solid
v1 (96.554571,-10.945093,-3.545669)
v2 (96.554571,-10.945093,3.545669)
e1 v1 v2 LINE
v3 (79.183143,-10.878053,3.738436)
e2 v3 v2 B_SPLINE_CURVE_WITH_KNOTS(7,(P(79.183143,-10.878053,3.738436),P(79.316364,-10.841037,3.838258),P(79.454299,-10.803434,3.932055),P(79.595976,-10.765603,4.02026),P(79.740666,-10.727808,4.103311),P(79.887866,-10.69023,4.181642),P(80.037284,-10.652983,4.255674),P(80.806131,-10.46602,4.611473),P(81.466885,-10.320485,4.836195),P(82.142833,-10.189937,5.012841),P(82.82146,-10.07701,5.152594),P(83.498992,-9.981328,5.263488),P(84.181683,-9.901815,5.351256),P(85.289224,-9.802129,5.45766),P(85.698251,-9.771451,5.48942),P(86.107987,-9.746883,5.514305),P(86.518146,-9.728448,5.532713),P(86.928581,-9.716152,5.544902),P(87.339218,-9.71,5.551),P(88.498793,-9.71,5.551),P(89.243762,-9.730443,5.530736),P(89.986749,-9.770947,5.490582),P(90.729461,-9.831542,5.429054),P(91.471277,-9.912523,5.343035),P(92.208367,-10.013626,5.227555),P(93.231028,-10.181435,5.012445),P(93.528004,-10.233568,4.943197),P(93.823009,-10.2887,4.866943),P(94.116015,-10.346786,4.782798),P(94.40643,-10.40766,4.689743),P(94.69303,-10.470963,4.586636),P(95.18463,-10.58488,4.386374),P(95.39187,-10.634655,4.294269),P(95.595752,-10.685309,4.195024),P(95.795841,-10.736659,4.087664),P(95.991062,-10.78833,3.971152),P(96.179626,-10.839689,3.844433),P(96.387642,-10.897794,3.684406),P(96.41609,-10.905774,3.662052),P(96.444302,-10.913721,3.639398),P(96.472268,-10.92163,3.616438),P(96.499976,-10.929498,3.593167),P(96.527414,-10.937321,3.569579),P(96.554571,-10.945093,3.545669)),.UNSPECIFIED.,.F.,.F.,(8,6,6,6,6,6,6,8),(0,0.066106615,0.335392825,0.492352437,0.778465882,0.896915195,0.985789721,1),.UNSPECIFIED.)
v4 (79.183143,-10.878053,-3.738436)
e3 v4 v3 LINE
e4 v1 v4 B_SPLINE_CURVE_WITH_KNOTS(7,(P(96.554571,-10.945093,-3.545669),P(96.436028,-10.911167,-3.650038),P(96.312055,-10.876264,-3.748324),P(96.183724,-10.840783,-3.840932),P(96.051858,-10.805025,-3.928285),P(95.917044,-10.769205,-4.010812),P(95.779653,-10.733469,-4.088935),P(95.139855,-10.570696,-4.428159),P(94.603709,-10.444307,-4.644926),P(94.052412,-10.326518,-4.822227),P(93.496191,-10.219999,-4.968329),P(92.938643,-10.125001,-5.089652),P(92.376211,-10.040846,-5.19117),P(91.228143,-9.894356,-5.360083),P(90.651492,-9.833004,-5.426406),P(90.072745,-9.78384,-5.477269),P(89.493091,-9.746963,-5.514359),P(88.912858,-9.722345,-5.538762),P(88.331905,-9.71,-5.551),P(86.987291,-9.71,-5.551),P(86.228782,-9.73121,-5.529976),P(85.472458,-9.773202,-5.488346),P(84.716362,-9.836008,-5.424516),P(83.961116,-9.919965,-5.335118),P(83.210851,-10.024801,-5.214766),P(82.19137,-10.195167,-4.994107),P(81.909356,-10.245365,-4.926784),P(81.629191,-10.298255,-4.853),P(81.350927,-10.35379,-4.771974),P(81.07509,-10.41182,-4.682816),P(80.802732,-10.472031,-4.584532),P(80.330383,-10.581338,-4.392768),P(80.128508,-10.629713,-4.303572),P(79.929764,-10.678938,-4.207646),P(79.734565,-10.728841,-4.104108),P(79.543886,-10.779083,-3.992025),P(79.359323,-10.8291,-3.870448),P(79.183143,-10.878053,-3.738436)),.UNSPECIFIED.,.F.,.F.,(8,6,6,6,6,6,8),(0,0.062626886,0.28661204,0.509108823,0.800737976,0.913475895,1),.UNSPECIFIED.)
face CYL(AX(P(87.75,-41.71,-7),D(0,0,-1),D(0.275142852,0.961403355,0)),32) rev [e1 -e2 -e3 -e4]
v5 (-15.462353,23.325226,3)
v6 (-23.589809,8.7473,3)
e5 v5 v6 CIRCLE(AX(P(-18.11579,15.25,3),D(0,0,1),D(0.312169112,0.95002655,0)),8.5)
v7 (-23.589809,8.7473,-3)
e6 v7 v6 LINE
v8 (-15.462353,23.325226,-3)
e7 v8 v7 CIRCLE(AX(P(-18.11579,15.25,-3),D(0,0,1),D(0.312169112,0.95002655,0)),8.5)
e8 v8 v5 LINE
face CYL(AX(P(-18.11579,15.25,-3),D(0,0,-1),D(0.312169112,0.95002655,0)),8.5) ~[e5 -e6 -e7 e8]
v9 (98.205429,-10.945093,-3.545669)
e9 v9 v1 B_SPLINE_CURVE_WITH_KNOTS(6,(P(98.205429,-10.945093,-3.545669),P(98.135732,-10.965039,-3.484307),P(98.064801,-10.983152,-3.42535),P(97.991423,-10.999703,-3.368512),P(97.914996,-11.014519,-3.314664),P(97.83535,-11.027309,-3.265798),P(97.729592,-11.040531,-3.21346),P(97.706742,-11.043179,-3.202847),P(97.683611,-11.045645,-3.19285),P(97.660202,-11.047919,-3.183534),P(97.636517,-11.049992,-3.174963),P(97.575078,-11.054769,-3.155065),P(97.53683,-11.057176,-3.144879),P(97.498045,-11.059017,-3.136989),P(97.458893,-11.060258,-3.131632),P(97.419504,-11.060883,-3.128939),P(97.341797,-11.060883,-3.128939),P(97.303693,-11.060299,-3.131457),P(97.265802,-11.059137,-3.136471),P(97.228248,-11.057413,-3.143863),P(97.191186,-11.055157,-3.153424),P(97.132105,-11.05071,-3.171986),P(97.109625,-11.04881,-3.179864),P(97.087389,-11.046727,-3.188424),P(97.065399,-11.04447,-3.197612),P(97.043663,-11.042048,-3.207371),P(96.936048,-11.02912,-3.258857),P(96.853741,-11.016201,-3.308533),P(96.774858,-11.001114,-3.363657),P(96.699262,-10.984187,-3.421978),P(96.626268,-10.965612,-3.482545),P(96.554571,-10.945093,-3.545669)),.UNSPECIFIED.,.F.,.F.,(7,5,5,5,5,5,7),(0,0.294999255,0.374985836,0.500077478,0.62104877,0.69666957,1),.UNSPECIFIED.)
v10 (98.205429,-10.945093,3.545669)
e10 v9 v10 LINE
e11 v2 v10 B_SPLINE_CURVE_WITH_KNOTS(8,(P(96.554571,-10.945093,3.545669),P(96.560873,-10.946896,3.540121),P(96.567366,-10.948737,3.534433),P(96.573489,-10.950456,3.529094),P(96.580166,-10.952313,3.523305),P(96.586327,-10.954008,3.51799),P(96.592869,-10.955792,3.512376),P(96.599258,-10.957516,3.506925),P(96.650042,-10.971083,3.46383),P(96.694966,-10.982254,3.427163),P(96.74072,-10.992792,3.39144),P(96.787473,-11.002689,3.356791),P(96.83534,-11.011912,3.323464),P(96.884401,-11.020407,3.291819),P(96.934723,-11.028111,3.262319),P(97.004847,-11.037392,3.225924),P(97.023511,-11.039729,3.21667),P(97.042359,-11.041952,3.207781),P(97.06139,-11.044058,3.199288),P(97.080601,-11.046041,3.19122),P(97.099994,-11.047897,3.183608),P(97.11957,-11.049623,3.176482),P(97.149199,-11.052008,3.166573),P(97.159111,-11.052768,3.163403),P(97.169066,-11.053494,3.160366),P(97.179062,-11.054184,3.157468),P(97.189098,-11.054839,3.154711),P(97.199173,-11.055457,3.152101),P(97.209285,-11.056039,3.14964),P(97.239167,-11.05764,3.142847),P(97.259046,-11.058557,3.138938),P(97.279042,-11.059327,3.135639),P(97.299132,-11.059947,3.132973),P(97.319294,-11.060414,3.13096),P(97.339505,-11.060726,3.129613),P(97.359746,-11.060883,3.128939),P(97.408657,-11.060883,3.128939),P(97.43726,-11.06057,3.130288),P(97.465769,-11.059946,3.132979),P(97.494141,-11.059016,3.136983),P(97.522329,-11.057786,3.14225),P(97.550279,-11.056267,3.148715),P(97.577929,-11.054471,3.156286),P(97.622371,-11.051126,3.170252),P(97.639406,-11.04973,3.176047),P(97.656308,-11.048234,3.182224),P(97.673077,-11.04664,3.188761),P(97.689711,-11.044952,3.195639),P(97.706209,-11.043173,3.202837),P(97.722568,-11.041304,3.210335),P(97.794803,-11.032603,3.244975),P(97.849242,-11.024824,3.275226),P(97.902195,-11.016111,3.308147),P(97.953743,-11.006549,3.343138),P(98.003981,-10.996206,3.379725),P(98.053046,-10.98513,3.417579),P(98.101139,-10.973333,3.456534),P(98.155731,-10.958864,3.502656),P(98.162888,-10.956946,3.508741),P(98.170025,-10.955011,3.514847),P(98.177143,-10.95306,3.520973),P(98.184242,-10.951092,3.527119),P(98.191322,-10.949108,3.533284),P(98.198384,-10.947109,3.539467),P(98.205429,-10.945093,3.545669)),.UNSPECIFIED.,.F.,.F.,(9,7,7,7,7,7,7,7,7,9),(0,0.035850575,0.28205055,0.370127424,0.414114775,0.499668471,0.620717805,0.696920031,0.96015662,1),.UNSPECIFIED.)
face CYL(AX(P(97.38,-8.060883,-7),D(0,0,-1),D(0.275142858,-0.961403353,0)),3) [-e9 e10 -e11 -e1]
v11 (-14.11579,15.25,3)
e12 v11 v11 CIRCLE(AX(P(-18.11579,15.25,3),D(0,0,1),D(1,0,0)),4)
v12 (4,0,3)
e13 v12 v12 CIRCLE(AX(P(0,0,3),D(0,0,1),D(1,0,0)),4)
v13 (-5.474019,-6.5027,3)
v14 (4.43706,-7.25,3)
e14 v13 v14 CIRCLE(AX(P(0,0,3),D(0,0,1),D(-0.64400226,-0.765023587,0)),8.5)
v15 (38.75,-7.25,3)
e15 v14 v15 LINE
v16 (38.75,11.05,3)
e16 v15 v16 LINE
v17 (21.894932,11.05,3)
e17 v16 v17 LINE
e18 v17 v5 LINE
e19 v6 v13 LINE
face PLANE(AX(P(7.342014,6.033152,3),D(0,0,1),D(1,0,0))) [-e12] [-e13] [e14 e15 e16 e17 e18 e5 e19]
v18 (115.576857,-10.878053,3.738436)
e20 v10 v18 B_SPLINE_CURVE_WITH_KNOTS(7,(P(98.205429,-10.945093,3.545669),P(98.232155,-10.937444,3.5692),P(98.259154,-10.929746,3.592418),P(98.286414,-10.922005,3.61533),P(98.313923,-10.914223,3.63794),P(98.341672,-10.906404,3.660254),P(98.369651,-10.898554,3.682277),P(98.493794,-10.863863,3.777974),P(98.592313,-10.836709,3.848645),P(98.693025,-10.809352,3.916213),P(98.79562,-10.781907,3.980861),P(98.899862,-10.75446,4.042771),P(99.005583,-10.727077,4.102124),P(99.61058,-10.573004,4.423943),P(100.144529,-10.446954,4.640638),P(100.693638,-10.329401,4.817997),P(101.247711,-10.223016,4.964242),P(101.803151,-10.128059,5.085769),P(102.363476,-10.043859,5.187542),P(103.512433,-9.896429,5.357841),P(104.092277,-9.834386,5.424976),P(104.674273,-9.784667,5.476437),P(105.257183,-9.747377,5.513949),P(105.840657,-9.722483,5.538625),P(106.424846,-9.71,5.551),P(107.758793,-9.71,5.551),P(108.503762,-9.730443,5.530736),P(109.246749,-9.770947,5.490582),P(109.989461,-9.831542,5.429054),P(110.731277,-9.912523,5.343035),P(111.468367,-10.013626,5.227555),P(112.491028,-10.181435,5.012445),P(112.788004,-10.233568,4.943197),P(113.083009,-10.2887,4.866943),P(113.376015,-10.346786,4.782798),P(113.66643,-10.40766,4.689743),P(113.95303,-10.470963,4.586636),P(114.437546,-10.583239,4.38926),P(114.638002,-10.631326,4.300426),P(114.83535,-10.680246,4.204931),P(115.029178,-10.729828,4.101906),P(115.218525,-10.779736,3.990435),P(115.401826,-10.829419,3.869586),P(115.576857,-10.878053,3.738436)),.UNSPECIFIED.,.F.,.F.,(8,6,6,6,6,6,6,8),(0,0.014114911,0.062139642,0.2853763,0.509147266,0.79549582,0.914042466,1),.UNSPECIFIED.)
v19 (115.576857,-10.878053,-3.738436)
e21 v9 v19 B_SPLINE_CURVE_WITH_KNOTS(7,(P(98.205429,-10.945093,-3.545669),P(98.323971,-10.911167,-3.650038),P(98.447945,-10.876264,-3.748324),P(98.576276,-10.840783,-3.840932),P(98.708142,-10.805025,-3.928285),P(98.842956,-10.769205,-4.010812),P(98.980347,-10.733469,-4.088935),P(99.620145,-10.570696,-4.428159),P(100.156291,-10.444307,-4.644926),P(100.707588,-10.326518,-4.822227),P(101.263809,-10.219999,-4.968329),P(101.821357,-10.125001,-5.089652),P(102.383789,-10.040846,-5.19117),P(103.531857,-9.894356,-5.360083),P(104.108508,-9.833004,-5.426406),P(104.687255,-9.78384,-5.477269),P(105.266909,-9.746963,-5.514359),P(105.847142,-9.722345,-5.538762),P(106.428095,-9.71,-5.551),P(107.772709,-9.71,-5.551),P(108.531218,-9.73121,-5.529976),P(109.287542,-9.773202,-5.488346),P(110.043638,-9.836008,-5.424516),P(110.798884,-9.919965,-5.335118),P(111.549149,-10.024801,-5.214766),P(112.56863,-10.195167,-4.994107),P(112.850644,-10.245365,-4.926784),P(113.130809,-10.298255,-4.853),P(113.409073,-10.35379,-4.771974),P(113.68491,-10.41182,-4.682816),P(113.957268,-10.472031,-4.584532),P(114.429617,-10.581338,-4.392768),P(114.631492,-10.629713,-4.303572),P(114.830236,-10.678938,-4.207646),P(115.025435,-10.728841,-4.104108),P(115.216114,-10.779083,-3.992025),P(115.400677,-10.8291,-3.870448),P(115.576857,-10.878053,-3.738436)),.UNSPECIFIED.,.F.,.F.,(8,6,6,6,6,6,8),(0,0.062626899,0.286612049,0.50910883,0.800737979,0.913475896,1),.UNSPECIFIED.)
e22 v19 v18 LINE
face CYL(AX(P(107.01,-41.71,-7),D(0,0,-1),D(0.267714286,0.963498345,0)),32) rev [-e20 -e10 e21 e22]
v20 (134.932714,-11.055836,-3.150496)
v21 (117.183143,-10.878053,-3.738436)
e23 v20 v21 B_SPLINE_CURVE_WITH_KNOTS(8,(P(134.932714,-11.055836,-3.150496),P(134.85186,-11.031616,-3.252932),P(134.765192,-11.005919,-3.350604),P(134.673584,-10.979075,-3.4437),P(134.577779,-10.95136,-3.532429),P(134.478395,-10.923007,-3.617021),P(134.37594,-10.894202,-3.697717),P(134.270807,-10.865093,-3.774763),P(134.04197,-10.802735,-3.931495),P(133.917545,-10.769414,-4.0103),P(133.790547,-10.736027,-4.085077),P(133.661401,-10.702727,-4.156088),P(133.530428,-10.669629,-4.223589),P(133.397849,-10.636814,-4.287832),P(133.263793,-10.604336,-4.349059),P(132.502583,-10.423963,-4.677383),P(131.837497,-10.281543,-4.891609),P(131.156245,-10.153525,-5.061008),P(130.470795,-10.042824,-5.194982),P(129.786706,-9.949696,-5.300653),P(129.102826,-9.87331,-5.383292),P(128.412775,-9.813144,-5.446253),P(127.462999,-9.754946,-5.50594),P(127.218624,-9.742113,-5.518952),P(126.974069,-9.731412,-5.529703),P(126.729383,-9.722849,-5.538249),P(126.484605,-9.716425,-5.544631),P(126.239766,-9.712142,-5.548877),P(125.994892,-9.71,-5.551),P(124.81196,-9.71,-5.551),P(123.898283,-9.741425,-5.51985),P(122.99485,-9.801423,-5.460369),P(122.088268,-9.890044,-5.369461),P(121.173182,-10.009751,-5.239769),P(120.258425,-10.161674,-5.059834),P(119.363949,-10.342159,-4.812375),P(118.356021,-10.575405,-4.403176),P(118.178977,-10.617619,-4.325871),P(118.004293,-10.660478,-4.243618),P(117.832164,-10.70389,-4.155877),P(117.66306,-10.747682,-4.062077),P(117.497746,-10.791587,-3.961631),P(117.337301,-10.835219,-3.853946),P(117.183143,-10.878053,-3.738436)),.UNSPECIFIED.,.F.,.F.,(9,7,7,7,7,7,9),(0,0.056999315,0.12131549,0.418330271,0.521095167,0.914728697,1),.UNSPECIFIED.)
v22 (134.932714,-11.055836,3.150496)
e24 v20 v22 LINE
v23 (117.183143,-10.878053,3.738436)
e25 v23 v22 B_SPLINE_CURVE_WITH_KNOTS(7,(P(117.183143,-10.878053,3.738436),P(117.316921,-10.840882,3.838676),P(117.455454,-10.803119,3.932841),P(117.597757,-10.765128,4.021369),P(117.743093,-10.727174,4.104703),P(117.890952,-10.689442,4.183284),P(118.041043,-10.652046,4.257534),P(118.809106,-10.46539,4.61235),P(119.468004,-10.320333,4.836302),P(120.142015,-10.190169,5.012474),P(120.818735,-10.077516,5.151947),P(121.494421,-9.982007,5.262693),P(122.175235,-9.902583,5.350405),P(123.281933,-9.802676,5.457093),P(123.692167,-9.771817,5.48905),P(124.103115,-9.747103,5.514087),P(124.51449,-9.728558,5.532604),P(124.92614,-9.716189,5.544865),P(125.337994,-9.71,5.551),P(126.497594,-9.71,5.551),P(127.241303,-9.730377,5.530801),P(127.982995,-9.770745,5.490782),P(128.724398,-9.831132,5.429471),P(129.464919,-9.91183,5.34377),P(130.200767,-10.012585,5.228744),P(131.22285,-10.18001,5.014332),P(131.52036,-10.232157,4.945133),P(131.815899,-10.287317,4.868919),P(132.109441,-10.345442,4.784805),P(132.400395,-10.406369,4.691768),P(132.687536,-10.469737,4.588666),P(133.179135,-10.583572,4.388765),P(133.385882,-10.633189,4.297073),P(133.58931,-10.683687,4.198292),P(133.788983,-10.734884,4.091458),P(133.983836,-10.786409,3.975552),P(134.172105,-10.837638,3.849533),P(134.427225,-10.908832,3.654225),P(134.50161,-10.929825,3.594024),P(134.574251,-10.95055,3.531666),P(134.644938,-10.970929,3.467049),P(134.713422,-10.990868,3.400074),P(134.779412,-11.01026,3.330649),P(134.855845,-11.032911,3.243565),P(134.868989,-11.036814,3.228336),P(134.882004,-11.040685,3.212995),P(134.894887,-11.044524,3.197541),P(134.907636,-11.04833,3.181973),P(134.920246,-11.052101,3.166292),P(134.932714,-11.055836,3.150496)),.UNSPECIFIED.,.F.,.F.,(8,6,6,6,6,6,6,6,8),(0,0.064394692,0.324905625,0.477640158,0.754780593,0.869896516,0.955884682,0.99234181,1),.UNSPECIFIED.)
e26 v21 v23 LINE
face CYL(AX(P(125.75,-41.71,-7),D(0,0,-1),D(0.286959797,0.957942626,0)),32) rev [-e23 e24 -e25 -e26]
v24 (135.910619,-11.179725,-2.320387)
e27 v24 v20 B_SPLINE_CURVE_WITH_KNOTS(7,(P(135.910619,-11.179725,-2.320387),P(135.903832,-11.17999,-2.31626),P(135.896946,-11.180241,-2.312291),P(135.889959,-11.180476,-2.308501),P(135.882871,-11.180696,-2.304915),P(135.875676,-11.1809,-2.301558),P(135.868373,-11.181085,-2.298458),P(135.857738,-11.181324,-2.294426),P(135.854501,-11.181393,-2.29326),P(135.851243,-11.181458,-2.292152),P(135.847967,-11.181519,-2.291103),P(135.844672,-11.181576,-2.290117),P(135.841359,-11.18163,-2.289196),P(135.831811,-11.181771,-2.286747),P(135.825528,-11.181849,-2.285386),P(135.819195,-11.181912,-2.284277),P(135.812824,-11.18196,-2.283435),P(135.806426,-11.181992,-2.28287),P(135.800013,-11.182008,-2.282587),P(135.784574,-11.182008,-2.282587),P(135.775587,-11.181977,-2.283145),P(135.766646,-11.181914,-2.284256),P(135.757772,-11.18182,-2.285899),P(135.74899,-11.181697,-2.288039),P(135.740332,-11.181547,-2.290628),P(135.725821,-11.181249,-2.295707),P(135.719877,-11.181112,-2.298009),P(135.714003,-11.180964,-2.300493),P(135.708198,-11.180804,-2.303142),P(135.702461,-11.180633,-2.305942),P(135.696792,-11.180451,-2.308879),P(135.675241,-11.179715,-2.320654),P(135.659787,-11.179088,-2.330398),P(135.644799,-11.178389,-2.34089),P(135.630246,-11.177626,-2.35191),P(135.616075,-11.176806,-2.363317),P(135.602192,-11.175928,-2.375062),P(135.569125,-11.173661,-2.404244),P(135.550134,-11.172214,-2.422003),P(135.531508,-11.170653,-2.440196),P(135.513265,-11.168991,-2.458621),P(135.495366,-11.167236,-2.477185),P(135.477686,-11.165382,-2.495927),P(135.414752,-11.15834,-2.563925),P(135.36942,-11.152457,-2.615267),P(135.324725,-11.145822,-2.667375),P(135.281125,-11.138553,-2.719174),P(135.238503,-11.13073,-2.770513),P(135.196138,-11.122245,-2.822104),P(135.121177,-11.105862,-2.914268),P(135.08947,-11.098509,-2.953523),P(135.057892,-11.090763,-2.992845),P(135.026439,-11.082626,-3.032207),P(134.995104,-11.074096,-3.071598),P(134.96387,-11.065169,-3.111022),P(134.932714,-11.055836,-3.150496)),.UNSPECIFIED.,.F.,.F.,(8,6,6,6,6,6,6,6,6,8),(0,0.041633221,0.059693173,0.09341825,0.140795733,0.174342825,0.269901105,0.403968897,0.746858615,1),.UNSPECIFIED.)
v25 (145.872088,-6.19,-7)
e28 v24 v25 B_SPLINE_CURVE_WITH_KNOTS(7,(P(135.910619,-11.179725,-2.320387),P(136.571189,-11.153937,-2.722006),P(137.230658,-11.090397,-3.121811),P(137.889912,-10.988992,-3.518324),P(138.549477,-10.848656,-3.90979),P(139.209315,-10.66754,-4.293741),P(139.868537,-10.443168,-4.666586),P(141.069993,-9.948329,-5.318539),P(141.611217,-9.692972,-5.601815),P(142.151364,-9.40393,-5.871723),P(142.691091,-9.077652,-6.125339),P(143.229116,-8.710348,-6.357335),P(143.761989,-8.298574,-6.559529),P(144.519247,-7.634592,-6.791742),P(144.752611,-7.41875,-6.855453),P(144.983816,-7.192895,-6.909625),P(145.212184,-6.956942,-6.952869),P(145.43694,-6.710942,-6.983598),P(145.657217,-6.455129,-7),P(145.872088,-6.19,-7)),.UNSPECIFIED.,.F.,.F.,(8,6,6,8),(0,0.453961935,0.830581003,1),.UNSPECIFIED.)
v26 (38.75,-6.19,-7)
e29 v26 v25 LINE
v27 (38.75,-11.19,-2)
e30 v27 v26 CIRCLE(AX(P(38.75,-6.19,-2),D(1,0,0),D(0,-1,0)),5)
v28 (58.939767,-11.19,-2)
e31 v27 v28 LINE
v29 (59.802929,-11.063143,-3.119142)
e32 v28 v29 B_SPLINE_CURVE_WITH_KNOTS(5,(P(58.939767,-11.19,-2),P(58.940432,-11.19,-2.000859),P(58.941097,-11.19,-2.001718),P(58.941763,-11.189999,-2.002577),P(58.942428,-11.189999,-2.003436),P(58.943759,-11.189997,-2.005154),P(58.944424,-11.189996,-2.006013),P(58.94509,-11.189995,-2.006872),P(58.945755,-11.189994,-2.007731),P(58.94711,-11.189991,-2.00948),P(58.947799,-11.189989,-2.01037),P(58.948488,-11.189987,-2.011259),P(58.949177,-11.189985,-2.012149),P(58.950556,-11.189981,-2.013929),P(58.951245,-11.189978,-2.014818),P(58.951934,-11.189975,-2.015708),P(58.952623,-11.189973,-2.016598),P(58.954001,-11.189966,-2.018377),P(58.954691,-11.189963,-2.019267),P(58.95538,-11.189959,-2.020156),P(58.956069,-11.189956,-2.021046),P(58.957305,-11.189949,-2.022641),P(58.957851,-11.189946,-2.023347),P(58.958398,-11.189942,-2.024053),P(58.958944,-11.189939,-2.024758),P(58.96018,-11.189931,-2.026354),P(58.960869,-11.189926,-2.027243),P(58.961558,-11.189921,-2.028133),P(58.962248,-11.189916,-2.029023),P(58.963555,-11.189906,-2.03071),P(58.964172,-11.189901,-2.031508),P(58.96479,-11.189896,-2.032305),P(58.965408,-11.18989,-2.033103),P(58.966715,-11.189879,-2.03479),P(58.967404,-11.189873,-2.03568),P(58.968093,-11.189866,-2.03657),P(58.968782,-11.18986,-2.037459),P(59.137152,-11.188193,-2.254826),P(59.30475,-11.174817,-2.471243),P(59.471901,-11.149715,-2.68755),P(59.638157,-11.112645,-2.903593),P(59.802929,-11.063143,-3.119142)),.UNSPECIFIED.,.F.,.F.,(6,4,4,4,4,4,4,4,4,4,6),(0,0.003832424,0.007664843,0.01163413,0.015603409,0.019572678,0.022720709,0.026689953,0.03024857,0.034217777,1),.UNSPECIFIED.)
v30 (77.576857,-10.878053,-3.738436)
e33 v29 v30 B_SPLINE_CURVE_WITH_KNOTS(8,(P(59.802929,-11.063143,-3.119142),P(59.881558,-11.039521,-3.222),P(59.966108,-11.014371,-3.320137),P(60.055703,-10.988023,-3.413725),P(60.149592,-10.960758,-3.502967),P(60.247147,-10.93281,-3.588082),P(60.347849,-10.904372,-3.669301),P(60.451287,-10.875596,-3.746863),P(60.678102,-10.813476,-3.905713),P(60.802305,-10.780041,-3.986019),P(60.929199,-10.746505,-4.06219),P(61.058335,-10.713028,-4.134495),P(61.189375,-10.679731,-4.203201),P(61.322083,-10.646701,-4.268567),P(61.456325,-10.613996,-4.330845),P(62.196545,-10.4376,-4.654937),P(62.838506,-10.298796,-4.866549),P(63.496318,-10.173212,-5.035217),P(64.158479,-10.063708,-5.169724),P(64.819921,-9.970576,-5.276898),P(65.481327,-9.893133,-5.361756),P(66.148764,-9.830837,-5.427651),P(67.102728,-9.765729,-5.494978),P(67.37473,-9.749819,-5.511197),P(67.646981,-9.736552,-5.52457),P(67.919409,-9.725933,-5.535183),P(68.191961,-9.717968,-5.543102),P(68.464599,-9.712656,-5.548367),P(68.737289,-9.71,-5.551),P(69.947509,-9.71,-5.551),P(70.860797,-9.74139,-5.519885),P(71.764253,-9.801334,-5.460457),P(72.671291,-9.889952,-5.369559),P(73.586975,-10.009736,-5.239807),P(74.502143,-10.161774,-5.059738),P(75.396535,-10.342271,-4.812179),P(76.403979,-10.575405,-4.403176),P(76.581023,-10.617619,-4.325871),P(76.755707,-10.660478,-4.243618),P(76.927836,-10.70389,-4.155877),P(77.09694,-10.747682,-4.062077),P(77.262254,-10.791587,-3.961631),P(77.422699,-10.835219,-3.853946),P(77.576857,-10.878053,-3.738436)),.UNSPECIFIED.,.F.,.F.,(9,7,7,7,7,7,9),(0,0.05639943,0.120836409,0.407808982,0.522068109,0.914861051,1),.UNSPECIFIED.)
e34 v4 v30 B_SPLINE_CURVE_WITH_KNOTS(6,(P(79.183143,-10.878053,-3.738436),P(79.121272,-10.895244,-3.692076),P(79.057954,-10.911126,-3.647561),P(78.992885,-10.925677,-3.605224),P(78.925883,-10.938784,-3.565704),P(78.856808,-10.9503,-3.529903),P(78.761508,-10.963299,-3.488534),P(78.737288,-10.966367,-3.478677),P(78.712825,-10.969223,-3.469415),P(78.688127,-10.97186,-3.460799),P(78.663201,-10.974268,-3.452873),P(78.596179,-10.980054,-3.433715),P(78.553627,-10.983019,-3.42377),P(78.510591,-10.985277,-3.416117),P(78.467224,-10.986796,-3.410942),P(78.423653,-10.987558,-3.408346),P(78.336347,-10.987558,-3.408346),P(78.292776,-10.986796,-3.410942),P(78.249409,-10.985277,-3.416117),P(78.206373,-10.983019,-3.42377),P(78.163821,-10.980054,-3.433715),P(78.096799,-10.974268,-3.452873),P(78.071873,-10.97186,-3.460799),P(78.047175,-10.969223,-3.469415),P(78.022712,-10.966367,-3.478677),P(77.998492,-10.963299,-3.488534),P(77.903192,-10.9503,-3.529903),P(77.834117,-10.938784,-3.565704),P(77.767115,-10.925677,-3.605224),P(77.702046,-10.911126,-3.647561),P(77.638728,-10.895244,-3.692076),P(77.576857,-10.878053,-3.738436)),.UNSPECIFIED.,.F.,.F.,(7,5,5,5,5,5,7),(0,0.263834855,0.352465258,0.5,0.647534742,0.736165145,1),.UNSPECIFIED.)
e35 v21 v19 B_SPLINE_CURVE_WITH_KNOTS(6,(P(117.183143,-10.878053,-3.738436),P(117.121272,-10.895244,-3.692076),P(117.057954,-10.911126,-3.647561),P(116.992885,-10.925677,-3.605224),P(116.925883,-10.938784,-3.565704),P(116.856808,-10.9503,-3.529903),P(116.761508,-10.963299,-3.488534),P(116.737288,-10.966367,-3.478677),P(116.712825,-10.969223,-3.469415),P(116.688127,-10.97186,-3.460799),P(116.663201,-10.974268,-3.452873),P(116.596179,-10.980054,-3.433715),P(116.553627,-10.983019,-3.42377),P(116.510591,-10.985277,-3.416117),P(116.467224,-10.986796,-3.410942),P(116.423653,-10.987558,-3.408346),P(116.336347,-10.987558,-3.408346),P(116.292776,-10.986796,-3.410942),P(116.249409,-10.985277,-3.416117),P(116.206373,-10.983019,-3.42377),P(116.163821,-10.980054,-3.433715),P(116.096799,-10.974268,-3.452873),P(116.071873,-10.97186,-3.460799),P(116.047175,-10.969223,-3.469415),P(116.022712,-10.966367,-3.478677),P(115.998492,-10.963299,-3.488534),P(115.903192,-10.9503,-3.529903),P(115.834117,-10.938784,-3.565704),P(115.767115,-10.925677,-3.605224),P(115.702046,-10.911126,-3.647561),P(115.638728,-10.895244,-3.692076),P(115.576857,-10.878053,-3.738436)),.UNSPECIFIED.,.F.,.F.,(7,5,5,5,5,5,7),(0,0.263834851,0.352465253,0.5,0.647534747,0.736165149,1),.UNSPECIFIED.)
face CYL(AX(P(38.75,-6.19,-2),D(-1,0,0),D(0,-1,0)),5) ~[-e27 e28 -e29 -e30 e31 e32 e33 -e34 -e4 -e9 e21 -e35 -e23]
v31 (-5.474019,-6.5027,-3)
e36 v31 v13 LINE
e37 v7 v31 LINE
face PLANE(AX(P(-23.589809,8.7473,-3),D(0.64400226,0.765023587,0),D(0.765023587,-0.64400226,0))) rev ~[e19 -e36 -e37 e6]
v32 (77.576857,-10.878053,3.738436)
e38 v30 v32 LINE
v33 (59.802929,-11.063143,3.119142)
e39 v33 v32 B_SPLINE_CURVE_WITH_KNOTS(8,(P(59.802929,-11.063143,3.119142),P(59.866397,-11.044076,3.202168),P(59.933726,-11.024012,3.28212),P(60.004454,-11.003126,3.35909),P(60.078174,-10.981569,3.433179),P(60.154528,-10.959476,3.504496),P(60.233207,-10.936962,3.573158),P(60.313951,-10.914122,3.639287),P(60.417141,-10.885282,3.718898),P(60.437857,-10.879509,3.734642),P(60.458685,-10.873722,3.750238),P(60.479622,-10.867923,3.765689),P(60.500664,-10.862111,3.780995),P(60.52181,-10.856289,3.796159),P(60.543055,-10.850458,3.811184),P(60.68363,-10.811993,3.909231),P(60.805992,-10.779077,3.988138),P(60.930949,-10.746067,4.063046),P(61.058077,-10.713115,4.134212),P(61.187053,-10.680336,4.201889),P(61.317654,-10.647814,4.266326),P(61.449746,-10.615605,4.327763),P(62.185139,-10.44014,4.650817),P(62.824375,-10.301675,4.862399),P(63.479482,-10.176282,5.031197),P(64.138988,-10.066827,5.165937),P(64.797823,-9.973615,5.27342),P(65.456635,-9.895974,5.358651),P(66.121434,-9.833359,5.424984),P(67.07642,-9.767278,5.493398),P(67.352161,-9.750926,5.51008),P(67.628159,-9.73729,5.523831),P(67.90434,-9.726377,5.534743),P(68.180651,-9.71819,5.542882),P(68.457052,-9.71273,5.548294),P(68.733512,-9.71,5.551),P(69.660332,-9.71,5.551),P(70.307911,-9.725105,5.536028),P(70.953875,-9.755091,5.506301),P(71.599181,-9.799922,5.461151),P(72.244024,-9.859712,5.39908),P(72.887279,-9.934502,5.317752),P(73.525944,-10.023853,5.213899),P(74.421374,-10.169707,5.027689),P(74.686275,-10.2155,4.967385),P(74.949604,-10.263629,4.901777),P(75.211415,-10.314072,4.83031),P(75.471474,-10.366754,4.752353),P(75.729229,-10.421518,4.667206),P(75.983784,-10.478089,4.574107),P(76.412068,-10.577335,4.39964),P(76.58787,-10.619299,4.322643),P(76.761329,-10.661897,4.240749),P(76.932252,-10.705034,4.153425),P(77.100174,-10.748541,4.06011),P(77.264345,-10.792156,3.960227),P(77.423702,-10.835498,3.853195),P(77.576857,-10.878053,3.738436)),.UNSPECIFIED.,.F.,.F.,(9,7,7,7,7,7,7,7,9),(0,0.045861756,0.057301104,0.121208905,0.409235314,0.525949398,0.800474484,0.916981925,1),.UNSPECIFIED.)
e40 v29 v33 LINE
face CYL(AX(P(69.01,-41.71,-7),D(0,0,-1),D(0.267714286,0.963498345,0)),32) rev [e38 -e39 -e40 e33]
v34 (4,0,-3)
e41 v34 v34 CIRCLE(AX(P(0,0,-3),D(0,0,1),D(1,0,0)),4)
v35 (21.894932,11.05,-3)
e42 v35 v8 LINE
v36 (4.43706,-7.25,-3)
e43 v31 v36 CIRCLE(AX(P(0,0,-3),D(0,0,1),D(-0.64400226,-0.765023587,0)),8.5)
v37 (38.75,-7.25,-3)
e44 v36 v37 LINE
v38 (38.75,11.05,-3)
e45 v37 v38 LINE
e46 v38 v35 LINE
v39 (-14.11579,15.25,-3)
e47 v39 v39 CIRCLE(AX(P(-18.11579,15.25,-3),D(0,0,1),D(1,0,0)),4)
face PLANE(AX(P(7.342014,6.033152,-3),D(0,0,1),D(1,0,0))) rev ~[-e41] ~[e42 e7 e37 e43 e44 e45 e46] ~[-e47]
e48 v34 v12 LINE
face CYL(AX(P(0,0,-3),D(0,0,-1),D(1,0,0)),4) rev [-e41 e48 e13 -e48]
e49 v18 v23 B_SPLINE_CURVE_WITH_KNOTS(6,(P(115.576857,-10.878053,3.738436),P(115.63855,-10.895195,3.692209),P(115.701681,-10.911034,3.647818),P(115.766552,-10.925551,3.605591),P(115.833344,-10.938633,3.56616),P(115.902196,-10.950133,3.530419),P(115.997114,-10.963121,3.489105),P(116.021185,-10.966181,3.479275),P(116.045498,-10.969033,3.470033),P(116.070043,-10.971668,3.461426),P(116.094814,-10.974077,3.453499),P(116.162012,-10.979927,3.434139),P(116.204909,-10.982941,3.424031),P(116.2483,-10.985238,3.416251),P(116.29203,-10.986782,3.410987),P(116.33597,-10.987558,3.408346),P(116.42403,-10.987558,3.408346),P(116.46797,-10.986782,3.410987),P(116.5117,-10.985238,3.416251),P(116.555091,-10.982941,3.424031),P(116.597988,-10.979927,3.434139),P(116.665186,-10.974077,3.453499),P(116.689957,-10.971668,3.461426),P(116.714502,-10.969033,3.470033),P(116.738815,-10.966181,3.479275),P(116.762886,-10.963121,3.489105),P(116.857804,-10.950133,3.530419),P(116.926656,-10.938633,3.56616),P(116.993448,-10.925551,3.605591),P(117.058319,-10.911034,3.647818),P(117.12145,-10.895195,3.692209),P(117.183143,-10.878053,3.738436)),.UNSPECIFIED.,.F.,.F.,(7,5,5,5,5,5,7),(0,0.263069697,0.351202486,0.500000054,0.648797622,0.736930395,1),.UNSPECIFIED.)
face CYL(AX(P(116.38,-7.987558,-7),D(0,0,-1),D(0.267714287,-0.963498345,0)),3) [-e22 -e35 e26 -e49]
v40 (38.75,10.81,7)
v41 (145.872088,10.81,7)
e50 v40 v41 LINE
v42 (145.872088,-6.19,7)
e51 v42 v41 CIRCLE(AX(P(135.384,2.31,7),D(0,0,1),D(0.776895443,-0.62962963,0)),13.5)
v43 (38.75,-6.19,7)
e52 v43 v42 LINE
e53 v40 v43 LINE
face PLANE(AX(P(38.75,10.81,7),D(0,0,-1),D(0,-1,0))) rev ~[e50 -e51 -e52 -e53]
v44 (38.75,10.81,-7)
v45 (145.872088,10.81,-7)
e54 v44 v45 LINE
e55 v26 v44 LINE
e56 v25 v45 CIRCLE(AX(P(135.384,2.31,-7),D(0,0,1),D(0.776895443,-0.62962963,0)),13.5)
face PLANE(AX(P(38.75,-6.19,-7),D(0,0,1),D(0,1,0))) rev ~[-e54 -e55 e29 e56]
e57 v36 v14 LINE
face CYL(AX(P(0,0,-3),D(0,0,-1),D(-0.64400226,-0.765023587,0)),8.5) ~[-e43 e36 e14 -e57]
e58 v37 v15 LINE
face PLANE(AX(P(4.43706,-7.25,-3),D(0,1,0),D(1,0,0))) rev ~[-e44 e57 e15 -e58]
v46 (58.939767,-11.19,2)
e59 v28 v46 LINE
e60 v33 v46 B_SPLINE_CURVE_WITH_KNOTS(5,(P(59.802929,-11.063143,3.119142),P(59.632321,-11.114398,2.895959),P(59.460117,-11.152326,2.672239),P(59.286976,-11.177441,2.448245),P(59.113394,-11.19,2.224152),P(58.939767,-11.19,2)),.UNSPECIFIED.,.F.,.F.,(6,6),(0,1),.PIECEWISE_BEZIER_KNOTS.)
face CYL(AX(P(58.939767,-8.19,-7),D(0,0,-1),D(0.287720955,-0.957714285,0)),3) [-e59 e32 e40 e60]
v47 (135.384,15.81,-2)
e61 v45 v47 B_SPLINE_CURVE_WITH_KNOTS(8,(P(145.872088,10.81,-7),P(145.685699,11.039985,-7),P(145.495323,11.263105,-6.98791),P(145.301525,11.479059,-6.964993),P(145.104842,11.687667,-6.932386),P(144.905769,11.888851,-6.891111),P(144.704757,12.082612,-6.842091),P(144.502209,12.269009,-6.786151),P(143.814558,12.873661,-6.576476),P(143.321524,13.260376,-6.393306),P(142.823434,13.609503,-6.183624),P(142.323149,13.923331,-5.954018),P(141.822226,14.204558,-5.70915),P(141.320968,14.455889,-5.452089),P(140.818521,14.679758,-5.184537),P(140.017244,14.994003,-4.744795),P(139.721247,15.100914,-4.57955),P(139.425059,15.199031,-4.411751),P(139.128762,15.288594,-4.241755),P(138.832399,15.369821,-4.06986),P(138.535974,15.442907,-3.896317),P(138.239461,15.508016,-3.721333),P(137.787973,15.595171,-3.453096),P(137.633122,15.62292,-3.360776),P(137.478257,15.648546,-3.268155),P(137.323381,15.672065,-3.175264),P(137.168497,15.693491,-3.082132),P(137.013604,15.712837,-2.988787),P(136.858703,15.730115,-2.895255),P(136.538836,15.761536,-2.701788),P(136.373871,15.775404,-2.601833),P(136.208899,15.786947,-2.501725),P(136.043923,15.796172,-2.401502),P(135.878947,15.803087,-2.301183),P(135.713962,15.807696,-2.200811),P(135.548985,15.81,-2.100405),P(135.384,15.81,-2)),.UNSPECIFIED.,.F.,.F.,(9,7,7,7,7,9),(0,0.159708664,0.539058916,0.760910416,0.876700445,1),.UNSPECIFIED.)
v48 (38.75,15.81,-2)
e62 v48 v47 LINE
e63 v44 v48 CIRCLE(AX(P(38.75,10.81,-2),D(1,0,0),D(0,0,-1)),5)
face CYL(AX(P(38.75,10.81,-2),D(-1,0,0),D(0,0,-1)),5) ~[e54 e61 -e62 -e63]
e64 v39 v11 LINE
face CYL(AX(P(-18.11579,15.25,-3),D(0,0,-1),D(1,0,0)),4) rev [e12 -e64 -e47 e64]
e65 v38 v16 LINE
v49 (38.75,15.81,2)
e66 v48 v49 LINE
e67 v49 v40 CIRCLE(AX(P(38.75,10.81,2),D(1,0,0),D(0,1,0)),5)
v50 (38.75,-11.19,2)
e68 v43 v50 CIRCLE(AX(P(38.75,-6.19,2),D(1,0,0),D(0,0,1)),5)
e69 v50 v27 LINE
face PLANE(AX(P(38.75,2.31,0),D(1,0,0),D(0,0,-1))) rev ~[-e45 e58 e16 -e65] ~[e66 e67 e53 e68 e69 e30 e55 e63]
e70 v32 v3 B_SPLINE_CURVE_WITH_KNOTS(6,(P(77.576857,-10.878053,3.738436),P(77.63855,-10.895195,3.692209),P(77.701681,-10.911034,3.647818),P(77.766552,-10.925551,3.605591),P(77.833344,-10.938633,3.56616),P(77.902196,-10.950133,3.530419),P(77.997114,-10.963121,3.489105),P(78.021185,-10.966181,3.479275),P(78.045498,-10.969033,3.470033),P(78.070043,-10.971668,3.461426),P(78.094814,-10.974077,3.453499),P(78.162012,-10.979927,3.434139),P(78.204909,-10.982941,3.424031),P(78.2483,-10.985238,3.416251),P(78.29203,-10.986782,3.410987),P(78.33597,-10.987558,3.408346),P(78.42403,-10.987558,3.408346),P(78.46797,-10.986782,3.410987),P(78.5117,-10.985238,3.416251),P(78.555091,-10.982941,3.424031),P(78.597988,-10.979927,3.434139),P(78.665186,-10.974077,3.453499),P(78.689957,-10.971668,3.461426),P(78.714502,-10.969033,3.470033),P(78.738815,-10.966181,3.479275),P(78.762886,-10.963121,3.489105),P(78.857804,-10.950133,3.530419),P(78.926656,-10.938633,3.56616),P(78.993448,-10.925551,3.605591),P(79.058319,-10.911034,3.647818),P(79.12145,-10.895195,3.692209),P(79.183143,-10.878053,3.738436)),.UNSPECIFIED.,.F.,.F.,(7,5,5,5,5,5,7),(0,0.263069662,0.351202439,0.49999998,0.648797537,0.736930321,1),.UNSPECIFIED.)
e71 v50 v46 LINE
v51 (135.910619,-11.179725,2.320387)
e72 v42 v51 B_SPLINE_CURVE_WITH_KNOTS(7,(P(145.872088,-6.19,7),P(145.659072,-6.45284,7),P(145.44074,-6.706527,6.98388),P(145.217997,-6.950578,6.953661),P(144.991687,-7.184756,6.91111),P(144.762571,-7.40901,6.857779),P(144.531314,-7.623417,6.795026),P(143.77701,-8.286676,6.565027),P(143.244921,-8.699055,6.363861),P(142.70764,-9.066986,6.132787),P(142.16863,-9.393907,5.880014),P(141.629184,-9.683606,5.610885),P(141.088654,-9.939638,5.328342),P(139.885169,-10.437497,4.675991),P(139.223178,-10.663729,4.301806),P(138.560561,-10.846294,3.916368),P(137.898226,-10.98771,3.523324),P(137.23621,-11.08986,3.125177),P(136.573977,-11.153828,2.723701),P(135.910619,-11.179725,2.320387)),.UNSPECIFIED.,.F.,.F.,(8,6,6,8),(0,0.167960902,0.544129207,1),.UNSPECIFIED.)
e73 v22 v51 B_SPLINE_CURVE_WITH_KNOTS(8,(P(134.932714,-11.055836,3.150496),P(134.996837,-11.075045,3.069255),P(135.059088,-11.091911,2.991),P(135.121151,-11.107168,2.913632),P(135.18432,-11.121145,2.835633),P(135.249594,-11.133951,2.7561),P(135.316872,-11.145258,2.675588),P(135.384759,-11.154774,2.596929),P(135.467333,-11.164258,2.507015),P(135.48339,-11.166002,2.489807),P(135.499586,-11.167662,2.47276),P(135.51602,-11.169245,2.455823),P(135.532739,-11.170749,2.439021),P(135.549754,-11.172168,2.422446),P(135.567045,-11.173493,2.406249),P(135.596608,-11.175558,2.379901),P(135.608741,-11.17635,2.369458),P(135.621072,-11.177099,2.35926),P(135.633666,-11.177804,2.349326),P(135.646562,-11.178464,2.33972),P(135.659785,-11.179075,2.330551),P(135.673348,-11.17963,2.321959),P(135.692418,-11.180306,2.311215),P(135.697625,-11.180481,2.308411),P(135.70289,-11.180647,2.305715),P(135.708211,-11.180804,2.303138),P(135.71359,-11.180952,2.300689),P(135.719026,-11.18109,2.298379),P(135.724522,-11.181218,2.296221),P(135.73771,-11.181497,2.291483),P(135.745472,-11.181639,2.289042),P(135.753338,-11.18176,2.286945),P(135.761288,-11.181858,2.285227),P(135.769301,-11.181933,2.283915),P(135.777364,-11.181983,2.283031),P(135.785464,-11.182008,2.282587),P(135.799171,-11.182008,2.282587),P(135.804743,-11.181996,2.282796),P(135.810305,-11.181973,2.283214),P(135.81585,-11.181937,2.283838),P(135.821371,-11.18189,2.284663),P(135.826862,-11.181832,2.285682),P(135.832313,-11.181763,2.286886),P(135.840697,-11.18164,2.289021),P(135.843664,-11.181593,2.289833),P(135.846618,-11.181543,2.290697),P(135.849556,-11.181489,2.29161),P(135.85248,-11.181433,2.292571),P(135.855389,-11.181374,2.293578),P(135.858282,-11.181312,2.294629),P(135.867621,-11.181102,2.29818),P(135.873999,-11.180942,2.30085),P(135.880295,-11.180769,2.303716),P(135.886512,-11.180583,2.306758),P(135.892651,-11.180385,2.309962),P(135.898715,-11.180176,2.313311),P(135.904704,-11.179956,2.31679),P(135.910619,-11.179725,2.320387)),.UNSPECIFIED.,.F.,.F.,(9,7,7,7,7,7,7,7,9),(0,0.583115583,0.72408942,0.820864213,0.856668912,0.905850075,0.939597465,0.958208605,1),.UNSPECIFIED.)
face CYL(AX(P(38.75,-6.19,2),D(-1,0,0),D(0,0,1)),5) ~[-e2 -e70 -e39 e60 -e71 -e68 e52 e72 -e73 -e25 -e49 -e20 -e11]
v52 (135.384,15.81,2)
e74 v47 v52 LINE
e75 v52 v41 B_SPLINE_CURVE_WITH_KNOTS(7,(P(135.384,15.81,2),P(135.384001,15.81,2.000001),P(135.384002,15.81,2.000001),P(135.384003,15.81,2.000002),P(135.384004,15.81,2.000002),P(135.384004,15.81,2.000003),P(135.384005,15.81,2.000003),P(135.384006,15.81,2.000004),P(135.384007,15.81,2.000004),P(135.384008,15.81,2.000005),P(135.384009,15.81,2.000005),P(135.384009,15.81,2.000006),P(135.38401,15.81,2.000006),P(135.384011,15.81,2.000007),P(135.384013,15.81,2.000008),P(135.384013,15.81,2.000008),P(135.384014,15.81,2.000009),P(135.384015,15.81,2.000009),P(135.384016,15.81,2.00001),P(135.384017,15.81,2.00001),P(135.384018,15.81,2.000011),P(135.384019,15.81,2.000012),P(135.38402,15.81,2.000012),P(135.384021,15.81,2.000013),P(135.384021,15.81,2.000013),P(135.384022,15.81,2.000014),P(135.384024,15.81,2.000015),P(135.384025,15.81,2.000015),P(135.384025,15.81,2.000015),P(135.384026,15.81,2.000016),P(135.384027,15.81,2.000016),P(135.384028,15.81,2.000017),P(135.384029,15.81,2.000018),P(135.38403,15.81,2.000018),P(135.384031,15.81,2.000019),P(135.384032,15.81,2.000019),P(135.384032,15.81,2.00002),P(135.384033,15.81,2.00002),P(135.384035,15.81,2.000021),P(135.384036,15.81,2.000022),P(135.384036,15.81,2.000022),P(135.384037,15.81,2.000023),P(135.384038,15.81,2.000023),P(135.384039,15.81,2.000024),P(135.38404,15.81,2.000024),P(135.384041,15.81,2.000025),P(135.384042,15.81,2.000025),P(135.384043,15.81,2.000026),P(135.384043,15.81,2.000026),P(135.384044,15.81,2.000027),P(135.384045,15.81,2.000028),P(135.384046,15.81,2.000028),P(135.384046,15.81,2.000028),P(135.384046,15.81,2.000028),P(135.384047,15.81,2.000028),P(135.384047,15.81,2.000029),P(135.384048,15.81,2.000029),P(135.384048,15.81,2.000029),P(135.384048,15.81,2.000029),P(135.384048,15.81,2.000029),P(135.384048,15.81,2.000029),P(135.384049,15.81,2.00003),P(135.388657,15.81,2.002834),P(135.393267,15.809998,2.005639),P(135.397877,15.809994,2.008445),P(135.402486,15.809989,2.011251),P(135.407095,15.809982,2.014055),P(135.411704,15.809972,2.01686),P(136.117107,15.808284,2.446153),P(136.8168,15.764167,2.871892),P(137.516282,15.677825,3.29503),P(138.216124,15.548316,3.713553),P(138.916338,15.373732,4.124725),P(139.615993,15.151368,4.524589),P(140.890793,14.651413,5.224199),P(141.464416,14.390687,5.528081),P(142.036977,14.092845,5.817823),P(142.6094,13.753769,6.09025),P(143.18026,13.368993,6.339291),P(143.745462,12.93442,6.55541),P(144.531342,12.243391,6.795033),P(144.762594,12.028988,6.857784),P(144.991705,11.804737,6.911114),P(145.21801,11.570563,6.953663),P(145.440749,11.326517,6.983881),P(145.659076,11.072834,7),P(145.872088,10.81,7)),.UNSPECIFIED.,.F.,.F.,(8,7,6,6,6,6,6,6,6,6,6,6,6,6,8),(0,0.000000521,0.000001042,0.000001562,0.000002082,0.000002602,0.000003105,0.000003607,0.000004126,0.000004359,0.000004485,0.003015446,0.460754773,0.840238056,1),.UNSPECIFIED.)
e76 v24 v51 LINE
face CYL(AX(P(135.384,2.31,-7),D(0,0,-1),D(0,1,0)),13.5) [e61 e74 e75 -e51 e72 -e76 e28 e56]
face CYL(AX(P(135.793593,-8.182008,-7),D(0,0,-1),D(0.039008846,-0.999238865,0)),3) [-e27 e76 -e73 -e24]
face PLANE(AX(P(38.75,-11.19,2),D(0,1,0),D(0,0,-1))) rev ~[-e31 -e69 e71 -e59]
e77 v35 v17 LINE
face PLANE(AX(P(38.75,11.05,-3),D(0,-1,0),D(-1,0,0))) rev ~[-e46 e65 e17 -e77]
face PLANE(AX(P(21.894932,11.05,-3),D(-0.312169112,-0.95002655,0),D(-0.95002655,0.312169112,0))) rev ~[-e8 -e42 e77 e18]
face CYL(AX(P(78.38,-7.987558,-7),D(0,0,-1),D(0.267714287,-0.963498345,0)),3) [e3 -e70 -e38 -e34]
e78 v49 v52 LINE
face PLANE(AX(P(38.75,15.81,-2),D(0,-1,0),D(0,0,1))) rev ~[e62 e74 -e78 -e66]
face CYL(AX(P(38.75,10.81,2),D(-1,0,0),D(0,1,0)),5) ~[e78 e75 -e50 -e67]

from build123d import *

# Parameters (mm, degrees)
EXTRUDE_1_DEPTH          = 3
EXTRUDE_1_DEPTH_BACK     = 3
SKETCH_1_R               = 4
EXTRUDE_2_DEPTH          = 110.134
CUT_EXTRUDE_1_DEPTH      = 7
CUT_EXTRUDE_1_DEPTH_BACK = 7


with BuildPart() as part:
    # 草图1 → 凸台-拉伸1 (new, two sides: drawn at the far end of the back side and taken through both)
    with BuildSketch(Plane.XY.offset(-EXTRUDE_1_DEPTH_BACK)):
        with BuildLine():
            Line((-23.589809211, 8.747299509), (-5.474019211, -6.502700491))
            ThreePointArc((-5.474019211, -6.502700491), (-0.63908945, -8.475940342), (4.437059837, -7.25))
            Line((4.437059837, -7.25), (38.75, -7.25))
            Line((38.75, -7.25), (38.75, 11.05))
            Line((38.75, 11.05), (21.8949318, 11.05))
            Line((21.8949318, 11.05), (-15.462352545, 23.325225673))
            ThreePointArc((-15.462352545, 23.325225673), (-25.539933262, 19.389093721), (-23.589809211, 8.747299509))
        make_face()
        Circle(SKETCH_1_R, mode=Mode.SUBTRACT)
        with Locations((-18.11579, 15.25)):
            Circle(SKETCH_1_R, mode=Mode.SUBTRACT)
    extrude(amount=EXTRUDE_1_DEPTH + EXTRUDE_1_DEPTH_BACK)

    # 草图2 → 凸台-拉伸2 (add)
    with BuildSketch(Plane(origin=(38.75, 0, 0), x_dir=(0, 0, -1), z_dir=(1, 0, 0))):
        with BuildLine():
            Line((-7, 10.81), (-7, -6.19))
            ThreePointArc((-7, -6.19), (-5.535533906, -9.725533906), (-2, -11.19))
            Line((-2, -11.19), (2, -11.19))
            ThreePointArc((2, -11.19), (5.535533906, -9.725533906), (7, -6.19))
            Line((7, -6.19), (7, 10.81))
            ThreePointArc((7, 10.81), (5.535533906, 14.345533906), (2, 15.81))
            Line((2, 15.81), (-2, 15.81))
            ThreePointArc((-2, 15.81), (-5.535533906, 14.345533906), (-7, 10.81))
        make_face()
    extrude(amount=EXTRUDE_2_DEPTH)

    # 草图3 → 切除-拉伸1 (cut, two sides: drawn at the far end of the back side and taken through both)
    with BuildSketch(Plane.XY.offset(-CUT_EXTRUDE_1_DEPTH_BACK)):
        with BuildLine():
            Line((38.75, 15.81), (135.384, 15.81))
            ThreePointArc((135.384, 15.81), (148.881430926, 2.573359834), (135.910619432, -11.179724681))
            ThreePointArc((135.910619432, -11.179724681), (135.416543333, -11.158219373), (134.932713501, -11.055835964))
            ThreePointArc((134.932713501, -11.055835964), (126.070501893, -9.711605063), (117.183142857, -10.878052953))
            ThreePointArc((117.183142857, -10.878052953), (116.38, -10.987557918), (115.576857143, -10.878052953))
            ThreePointArc((115.576857143, -10.878052953), (106.886506673, -9.710238292), (98.205428571, -10.945092687))
            ThreePointArc((98.205428571, -10.945092687), (97.379999908, -11.060882627), (96.554571252, -10.945092637))
            ThreePointArc((96.554571252, -10.945092637), (87.873493235, -9.710238291), (79.183142857, -10.878052953))
            ThreePointArc((79.183142857, -10.878052953), (78.38, -10.987557918), (77.576857143, -10.878052953))
            ThreePointArc((77.576857143, -10.878052953), (68.676784071, -9.711734935), (59.802929496, -11.063142857))
            ThreePointArc((59.802929496, -11.063142857), (59.375984144, -11.158116286), (58.939766636, -11.19))
            Line((58.939766636, -11.19), (38.75, -11.19))
            Line((38.75, -11.19), (38.75, -16.19))
            Line((38.75, -16.19), (153.884, -16.19))
            Line((153.884, -16.19), (153.884, 20.81))
            Line((153.884, 20.81), (38.75, 20.81))
            Line((38.75, 20.81), (38.75, 15.81))
        make_face()
    extrude(amount=CUT_EXTRUDE_1_DEPTH + CUT_EXTRUDE_1_DEPTH_BACK, mode=Mode.SUBTRACT)


solid = part.part
